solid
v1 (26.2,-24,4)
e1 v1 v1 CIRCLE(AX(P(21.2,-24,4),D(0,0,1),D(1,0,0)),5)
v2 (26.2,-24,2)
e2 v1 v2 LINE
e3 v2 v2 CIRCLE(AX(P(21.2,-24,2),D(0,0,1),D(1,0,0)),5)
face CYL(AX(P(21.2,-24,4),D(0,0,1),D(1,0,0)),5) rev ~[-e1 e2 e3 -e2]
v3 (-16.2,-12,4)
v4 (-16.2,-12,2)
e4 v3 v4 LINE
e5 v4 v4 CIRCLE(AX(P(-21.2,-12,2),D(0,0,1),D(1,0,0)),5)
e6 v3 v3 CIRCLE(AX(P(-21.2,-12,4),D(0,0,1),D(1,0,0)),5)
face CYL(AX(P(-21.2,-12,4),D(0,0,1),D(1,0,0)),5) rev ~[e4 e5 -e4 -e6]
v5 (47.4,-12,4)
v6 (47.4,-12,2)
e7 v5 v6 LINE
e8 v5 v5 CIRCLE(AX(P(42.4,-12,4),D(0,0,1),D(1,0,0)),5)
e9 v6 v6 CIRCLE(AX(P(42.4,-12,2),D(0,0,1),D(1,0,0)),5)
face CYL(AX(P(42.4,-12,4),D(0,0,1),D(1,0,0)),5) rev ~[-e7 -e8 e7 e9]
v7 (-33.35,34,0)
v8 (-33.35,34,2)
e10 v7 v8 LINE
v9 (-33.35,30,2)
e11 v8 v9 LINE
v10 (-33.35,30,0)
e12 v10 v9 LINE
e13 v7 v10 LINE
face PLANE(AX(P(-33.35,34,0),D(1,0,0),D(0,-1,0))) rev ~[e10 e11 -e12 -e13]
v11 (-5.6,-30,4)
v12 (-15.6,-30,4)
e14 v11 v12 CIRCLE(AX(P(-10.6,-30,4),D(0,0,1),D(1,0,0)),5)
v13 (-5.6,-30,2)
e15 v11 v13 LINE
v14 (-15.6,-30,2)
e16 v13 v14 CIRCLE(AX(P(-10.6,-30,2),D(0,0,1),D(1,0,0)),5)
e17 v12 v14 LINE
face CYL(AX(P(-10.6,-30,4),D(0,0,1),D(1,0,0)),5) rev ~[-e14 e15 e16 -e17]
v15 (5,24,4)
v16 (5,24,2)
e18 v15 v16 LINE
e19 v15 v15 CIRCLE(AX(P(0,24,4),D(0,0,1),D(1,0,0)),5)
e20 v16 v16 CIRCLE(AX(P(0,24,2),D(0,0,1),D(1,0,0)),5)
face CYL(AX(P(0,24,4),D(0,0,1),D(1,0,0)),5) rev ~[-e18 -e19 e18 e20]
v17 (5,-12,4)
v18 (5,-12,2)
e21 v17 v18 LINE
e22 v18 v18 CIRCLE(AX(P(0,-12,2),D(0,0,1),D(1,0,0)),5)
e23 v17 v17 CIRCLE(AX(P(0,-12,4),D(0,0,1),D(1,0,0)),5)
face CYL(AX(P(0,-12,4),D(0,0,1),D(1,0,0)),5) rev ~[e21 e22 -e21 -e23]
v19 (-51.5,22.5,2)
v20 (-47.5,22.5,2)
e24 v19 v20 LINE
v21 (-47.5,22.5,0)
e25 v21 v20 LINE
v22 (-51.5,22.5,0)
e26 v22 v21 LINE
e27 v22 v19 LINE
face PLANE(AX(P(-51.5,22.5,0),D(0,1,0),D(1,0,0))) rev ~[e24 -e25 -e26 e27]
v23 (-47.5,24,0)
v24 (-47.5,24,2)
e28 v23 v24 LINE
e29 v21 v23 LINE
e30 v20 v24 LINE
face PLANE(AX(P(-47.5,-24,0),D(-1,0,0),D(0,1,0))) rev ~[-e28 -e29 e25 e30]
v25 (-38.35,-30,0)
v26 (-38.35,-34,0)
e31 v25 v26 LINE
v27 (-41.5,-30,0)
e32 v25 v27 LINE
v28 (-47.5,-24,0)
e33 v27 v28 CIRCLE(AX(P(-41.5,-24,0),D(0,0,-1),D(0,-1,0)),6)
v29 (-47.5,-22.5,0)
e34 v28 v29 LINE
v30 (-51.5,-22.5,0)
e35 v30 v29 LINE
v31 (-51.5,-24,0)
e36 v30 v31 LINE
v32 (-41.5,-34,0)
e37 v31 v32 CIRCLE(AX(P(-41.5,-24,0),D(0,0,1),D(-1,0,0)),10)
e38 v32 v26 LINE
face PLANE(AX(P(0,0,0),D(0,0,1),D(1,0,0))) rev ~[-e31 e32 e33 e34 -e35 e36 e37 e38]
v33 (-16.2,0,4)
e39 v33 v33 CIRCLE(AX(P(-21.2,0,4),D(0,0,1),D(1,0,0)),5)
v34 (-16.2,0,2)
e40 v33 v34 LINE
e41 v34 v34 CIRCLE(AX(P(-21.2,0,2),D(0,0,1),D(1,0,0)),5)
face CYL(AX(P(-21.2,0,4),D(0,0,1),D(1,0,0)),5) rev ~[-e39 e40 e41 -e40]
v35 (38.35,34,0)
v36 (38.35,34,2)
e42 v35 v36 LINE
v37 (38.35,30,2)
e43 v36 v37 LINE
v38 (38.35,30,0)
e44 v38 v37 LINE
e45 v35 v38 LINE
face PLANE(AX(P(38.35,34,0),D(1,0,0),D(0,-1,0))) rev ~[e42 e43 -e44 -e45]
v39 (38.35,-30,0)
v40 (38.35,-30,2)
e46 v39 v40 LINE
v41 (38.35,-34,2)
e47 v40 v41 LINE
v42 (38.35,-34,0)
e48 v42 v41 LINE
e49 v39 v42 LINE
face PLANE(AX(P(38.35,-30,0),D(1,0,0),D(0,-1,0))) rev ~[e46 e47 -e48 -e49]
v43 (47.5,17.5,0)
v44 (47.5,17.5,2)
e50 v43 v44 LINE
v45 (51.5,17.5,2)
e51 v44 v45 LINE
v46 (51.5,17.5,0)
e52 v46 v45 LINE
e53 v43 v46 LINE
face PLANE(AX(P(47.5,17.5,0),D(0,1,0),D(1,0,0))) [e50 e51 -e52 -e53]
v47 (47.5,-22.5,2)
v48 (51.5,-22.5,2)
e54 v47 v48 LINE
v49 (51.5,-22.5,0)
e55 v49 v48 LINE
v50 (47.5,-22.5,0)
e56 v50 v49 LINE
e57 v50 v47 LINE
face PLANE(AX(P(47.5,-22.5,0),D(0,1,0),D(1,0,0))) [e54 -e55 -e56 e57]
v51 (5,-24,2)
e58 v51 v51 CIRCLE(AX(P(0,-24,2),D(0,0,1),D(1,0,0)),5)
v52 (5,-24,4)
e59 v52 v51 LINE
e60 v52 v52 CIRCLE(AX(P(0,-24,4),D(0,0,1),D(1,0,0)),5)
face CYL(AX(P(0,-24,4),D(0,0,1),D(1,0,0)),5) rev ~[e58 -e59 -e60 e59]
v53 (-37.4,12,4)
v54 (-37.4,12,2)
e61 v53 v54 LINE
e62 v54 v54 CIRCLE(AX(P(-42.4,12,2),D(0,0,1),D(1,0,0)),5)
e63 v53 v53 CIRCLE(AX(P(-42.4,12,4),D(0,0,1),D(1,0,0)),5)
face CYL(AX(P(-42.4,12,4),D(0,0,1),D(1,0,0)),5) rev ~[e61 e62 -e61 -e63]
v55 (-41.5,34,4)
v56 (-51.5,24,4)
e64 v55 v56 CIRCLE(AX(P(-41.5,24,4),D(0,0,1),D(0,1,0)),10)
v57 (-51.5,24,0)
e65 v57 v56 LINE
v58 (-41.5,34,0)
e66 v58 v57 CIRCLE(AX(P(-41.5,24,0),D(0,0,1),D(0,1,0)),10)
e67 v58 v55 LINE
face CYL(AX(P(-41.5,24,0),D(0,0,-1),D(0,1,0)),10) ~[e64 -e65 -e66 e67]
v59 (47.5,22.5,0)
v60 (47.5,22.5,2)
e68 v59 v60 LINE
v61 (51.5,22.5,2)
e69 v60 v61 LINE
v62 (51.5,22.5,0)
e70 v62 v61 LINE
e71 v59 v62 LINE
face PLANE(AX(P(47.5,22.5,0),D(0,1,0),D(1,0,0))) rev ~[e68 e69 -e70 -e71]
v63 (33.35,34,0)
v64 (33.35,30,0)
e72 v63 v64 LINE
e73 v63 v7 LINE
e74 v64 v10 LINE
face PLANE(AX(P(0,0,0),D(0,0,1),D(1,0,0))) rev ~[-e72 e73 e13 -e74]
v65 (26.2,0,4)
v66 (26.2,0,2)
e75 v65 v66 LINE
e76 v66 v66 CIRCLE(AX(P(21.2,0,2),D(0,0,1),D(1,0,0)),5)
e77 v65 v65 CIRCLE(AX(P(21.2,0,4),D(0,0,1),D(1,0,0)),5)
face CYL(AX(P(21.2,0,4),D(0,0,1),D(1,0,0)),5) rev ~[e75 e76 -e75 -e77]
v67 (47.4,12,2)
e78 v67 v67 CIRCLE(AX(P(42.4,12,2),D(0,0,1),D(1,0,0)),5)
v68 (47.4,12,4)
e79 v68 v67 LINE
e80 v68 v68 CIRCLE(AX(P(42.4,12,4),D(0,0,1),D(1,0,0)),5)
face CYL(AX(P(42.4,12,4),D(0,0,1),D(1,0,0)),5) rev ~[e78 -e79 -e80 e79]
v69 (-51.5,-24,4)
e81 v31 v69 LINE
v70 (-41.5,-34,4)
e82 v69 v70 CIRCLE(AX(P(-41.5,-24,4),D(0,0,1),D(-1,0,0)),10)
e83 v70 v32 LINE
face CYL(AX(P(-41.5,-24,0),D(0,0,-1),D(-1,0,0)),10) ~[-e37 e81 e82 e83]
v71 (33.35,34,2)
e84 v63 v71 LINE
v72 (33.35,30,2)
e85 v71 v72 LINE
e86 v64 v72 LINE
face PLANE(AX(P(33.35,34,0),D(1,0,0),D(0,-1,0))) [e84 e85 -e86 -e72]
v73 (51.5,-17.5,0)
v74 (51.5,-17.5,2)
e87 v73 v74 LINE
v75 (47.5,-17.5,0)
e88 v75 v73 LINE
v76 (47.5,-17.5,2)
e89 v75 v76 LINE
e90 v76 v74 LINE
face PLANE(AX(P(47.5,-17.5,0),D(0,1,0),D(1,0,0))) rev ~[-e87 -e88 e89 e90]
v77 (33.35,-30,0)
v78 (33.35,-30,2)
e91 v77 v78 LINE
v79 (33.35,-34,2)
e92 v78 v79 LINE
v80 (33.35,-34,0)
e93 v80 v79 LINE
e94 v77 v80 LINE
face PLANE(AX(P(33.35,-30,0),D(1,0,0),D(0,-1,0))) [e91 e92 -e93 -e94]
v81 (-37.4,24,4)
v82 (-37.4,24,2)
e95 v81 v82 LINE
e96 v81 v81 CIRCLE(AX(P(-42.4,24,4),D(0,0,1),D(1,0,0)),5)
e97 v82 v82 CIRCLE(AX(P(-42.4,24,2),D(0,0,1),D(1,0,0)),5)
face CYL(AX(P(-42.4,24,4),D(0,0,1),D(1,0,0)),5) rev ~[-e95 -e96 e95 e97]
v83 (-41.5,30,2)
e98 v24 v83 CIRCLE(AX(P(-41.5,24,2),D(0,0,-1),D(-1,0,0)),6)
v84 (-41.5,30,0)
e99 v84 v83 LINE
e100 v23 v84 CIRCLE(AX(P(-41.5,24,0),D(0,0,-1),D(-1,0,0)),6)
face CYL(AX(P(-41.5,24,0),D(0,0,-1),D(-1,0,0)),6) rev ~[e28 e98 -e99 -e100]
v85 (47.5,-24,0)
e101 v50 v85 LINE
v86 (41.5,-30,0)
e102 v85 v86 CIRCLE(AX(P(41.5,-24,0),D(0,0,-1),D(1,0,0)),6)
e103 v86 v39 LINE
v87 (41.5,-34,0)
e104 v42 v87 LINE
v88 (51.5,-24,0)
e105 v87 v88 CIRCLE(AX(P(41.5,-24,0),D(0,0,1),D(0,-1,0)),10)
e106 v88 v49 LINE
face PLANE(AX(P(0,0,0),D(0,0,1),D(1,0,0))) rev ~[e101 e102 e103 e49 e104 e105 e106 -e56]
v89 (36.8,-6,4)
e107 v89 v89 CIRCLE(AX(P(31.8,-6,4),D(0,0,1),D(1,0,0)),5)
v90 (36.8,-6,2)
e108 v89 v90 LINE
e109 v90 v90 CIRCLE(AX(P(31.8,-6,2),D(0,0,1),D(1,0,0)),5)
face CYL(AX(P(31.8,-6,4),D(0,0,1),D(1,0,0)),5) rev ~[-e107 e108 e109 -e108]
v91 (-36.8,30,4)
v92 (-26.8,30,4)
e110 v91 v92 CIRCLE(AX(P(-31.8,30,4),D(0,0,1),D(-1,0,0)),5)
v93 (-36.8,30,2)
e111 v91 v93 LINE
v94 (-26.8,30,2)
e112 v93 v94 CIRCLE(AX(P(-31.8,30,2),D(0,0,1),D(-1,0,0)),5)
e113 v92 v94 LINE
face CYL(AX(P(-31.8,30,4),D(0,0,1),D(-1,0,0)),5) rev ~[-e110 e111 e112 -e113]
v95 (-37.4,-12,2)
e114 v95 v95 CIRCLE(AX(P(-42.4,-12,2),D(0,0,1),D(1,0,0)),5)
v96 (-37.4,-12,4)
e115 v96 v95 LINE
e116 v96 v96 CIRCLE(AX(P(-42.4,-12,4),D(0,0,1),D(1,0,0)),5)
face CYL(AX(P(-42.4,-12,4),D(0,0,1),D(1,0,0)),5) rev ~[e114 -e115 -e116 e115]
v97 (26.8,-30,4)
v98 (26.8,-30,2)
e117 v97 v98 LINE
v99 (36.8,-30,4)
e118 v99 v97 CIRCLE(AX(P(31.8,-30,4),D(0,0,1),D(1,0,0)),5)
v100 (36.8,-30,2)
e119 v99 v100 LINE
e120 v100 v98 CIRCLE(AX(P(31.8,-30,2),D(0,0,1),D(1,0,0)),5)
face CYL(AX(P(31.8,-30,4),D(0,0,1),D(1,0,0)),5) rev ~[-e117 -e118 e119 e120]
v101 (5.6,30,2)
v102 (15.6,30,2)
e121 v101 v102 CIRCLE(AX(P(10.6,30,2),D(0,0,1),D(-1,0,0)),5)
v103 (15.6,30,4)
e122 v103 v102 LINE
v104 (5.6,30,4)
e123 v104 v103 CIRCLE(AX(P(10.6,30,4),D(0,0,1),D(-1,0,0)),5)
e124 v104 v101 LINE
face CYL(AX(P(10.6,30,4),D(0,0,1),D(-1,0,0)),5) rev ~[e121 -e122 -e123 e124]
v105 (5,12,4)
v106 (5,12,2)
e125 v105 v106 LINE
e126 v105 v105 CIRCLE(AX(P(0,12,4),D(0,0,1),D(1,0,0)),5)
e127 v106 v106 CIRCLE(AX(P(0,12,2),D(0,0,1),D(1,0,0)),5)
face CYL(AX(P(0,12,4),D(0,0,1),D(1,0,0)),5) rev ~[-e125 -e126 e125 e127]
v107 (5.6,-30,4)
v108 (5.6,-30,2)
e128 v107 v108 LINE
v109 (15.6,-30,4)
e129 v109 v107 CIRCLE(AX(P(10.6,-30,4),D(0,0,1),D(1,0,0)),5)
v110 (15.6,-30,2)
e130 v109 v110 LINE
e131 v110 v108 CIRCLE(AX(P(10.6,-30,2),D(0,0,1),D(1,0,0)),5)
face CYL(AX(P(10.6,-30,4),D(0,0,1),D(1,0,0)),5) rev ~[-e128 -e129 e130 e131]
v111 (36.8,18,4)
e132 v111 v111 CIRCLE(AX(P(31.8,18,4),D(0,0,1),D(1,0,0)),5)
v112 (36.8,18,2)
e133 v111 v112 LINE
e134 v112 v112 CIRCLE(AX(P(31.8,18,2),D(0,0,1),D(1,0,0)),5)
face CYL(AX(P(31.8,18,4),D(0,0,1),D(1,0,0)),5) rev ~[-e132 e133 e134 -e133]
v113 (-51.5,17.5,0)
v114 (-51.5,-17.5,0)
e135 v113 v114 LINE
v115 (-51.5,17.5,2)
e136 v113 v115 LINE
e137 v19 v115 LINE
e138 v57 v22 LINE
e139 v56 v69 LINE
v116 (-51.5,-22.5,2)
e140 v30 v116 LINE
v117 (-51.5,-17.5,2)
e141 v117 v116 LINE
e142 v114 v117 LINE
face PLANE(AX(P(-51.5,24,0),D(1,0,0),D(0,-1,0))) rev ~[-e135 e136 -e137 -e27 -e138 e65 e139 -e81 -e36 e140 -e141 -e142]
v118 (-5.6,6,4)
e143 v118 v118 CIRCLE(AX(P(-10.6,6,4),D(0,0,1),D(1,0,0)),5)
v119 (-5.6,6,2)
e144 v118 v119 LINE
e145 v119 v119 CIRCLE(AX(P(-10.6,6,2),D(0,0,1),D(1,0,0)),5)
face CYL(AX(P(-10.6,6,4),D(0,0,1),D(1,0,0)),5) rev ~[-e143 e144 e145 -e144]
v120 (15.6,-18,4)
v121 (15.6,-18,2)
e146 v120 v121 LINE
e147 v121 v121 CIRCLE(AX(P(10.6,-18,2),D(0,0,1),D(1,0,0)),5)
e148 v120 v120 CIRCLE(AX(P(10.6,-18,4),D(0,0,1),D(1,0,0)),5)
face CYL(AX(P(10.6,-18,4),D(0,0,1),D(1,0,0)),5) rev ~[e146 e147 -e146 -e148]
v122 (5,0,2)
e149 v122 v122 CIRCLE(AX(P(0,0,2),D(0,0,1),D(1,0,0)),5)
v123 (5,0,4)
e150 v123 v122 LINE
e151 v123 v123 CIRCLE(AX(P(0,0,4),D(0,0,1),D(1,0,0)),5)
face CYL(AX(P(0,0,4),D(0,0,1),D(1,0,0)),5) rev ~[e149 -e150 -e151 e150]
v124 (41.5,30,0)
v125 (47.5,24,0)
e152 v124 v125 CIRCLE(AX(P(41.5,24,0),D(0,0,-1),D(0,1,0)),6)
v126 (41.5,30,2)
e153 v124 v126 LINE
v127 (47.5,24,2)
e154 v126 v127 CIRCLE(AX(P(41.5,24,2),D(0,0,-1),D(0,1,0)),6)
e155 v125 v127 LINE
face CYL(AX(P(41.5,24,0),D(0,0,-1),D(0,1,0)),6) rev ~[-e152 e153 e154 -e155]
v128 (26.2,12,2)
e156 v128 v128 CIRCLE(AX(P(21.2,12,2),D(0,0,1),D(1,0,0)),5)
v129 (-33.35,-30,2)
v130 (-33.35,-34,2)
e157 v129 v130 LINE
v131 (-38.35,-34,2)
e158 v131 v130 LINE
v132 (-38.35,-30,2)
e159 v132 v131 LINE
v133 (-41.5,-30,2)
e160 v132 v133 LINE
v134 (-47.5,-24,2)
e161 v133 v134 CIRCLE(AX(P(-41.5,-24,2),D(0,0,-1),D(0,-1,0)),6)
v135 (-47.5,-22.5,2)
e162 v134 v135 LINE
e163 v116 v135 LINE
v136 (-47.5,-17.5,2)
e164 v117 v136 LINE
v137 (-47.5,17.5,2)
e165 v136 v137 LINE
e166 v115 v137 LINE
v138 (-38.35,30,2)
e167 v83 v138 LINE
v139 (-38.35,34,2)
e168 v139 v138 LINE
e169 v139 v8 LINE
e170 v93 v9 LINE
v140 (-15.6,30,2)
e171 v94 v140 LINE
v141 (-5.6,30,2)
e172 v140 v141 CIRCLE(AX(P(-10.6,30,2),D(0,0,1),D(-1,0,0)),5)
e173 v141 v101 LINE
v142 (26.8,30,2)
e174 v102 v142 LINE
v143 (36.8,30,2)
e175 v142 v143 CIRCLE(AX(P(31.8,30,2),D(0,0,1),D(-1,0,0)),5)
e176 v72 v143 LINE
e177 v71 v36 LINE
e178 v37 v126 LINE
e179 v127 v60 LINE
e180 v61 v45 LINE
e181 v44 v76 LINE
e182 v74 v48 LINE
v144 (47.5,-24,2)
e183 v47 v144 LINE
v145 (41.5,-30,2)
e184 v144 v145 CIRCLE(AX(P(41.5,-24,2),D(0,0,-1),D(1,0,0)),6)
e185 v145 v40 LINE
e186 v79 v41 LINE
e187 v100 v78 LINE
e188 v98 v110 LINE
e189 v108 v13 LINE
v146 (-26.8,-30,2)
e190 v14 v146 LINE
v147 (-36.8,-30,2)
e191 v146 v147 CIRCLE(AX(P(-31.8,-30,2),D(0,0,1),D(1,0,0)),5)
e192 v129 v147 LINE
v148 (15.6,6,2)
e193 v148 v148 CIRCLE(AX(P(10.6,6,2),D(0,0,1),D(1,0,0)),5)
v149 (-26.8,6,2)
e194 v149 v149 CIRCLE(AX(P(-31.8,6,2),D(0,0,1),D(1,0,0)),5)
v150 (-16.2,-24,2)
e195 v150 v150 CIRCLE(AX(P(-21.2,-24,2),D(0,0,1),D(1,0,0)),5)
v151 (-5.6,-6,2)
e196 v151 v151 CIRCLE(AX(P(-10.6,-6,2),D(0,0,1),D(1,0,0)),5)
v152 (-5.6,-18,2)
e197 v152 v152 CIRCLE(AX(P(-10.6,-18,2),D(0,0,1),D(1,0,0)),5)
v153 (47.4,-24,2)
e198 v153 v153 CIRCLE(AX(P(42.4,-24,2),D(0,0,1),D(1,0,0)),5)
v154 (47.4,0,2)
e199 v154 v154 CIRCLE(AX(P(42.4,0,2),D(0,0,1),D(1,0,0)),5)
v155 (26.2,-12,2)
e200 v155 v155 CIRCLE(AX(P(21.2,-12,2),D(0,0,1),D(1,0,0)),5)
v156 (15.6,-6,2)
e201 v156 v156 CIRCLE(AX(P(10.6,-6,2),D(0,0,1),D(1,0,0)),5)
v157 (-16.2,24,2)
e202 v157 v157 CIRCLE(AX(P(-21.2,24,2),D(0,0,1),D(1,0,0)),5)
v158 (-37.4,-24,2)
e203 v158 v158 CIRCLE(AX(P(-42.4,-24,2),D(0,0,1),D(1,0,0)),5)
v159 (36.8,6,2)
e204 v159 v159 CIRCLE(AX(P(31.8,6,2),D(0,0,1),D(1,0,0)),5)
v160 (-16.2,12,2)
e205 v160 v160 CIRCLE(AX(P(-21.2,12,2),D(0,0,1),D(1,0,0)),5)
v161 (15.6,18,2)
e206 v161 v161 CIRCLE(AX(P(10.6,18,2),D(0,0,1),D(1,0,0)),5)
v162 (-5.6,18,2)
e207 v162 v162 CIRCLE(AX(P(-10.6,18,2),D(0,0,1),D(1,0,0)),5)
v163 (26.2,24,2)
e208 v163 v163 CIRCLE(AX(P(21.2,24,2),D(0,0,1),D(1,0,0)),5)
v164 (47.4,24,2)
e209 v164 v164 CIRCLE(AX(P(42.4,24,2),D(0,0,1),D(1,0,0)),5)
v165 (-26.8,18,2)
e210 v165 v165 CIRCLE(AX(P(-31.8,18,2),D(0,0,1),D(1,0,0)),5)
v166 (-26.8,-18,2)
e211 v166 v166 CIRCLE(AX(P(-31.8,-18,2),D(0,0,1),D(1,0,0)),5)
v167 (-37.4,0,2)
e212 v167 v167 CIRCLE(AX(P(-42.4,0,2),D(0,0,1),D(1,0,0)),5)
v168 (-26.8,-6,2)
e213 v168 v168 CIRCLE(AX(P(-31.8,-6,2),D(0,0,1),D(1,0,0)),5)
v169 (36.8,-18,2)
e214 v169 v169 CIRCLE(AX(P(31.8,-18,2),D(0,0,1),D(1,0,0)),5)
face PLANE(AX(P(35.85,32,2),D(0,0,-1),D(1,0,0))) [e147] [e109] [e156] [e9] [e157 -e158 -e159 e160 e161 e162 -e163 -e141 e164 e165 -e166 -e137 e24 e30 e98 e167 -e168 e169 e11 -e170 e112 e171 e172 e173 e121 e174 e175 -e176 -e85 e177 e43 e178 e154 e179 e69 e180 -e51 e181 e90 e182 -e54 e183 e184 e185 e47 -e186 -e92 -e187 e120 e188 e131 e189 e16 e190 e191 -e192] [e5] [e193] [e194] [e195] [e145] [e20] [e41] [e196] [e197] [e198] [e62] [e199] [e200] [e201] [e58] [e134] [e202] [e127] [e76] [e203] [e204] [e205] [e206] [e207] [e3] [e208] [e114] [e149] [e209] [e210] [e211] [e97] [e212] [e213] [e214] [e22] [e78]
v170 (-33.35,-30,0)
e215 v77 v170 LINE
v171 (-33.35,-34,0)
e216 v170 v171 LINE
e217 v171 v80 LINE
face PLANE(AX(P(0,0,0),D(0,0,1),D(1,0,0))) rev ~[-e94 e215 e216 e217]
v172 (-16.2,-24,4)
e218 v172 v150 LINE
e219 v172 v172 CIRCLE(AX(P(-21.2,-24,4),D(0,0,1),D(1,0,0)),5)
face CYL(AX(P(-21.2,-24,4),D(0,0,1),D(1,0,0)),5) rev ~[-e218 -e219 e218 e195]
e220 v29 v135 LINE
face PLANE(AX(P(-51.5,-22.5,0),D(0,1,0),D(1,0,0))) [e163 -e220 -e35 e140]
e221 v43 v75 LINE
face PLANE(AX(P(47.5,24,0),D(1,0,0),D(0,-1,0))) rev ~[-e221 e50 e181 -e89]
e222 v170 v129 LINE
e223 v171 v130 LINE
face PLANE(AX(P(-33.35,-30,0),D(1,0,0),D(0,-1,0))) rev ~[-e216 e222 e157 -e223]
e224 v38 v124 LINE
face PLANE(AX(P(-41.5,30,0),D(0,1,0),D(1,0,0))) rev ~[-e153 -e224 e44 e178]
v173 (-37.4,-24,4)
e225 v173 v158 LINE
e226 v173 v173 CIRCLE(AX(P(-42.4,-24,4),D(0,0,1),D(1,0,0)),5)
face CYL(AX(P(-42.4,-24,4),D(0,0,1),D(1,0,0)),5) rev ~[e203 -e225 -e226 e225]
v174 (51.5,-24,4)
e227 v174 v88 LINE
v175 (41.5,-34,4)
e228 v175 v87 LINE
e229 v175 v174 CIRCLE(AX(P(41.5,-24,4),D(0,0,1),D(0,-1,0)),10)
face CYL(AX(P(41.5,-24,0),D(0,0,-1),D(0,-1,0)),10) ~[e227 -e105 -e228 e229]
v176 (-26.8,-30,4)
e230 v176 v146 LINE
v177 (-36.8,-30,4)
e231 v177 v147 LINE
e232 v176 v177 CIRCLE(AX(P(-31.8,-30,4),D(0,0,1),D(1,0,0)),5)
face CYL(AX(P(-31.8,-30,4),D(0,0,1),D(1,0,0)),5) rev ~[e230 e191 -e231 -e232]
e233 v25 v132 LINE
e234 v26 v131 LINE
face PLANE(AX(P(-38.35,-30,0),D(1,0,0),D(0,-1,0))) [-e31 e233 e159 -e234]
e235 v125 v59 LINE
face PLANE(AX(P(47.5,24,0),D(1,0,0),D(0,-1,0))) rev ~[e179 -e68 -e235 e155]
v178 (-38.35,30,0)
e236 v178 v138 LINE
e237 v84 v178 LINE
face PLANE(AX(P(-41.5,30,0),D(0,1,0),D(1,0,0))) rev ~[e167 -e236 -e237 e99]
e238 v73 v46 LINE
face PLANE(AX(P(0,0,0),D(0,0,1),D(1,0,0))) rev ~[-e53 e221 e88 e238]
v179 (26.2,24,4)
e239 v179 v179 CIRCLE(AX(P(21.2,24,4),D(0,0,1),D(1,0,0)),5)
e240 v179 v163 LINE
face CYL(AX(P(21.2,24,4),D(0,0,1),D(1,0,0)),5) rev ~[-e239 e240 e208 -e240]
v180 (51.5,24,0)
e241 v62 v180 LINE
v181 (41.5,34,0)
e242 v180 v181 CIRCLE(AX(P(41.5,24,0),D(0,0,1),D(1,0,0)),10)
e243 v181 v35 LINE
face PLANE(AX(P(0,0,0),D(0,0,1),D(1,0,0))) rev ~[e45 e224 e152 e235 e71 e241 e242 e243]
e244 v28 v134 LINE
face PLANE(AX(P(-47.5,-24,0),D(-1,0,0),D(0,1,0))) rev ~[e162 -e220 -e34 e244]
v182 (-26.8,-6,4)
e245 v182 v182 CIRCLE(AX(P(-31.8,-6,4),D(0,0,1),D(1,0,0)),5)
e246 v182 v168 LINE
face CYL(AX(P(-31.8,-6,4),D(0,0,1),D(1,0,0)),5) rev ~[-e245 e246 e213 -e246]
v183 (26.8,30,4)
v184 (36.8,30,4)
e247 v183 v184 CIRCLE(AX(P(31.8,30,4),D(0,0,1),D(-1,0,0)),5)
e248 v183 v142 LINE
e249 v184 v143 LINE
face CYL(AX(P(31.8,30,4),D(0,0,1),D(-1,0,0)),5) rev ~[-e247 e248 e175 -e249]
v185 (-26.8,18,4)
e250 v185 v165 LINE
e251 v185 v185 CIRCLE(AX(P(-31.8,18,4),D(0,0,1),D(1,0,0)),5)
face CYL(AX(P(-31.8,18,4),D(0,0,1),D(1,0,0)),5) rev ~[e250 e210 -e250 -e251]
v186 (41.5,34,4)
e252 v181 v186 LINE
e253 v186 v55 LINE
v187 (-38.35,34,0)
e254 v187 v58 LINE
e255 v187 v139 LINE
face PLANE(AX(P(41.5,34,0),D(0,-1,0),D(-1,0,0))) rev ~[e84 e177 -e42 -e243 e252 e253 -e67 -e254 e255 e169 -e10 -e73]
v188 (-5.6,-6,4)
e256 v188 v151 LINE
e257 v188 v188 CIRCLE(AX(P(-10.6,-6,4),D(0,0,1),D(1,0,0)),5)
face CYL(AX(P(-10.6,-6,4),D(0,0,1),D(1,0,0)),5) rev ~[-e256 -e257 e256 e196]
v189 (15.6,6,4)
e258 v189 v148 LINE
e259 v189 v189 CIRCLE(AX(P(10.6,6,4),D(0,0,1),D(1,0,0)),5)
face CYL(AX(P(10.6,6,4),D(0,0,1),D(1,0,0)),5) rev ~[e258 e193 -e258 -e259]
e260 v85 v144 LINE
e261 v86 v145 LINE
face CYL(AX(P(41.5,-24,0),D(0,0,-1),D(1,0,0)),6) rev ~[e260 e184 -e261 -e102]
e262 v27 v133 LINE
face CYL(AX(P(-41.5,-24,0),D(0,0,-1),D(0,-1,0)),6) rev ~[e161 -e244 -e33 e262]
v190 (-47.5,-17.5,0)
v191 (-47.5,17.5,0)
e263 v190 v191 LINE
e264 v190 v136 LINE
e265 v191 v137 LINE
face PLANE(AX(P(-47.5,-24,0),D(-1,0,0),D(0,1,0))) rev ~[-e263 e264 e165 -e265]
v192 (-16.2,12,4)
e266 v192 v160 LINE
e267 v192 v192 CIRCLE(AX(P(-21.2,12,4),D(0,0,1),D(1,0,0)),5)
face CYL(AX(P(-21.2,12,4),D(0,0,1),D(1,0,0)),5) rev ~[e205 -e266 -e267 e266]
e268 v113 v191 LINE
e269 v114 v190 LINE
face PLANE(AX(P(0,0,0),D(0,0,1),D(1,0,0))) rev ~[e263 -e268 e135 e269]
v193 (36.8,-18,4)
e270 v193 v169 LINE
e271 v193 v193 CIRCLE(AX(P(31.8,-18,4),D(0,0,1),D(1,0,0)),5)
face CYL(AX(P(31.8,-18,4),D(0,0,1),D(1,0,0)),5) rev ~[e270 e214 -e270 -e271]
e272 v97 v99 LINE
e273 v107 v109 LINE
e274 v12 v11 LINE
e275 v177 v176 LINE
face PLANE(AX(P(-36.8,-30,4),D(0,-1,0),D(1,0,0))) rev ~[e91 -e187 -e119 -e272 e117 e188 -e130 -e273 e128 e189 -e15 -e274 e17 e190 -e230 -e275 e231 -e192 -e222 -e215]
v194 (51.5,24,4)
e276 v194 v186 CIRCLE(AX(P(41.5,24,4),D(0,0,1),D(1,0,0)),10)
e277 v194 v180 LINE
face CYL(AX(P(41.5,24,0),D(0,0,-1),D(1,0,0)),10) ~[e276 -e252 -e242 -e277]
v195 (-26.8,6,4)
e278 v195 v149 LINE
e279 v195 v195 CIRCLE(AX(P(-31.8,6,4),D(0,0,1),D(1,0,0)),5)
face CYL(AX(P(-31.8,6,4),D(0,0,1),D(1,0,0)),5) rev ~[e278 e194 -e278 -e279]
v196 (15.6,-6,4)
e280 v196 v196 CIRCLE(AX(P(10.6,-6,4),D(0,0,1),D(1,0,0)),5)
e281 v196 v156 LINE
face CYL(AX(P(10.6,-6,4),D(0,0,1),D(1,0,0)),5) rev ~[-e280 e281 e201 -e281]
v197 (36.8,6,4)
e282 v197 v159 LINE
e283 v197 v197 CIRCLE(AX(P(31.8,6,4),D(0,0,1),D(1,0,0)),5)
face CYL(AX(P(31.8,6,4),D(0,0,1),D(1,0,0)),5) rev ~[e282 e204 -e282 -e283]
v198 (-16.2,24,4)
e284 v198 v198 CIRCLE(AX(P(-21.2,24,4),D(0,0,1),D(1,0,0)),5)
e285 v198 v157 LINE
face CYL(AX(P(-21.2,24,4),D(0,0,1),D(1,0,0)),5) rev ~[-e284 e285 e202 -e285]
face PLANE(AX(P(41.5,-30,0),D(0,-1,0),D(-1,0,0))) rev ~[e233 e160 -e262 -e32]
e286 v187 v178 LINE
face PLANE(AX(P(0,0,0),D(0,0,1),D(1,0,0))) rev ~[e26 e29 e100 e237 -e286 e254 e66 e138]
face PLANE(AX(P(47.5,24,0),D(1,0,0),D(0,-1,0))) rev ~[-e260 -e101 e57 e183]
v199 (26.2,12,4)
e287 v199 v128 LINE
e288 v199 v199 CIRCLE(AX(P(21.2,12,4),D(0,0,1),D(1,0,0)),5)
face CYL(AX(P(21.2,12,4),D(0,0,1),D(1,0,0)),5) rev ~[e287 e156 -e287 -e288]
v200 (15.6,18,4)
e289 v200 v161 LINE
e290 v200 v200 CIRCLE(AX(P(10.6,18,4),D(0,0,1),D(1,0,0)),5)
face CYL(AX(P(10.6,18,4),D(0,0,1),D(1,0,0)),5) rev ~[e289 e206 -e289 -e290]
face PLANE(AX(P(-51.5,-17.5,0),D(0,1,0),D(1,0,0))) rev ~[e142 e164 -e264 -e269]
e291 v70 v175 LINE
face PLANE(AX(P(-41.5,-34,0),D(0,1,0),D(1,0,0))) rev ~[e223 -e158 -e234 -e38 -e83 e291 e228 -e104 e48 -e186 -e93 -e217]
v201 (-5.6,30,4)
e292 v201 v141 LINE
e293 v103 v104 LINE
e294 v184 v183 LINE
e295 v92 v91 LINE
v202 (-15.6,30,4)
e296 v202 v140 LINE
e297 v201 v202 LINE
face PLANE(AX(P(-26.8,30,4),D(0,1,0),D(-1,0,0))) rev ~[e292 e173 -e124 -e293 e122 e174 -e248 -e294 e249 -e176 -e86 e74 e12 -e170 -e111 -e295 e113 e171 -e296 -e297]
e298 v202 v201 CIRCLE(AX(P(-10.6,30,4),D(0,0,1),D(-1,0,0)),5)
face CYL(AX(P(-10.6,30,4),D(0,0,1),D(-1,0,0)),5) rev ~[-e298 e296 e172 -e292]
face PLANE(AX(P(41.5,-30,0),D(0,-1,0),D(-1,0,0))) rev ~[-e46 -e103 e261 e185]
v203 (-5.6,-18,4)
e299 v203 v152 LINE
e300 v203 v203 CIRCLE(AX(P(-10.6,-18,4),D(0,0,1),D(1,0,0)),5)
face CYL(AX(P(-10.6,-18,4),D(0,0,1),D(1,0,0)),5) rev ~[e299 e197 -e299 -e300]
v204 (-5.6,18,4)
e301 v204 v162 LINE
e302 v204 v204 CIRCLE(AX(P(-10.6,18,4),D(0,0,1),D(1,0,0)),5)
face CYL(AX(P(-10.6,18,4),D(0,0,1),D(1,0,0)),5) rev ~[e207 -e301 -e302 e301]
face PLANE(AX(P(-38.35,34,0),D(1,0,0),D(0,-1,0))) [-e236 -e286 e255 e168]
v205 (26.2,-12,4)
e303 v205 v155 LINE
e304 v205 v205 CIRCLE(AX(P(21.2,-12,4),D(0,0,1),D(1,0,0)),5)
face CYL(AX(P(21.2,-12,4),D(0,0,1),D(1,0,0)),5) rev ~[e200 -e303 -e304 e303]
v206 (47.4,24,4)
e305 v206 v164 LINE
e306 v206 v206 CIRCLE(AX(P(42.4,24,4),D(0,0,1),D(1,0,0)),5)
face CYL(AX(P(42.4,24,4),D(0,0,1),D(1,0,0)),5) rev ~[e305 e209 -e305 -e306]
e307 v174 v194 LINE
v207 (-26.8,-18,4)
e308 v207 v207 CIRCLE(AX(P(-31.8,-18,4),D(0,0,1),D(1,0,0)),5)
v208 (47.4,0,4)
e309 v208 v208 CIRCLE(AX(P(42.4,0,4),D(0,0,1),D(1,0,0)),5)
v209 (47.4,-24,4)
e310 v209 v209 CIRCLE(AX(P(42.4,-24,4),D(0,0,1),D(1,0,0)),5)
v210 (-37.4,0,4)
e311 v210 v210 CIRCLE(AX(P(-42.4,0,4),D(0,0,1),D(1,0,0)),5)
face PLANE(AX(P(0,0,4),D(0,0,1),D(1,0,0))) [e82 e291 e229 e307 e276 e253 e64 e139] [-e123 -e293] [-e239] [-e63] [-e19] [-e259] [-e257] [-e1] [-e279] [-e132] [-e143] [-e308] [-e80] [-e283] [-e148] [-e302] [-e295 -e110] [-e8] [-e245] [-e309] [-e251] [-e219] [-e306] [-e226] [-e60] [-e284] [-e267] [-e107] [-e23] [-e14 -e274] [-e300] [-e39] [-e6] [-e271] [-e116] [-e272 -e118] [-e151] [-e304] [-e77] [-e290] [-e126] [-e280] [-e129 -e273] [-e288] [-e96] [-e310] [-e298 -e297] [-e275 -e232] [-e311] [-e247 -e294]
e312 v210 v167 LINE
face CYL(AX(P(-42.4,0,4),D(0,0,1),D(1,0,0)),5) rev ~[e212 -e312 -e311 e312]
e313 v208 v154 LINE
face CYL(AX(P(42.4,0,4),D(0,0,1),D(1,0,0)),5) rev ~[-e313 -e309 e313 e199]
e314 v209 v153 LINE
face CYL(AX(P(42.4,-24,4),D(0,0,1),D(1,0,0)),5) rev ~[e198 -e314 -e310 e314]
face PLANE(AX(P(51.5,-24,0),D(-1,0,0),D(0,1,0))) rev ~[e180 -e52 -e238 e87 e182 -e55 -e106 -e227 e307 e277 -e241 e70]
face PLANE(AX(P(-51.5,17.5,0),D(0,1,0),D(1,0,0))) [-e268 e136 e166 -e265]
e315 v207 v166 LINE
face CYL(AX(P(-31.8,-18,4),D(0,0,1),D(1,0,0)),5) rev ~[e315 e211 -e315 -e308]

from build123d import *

# Parameters (mm, degrees)
F1_DEPTH  = 4
F3_DEPTH  = 2
F5_DEPTH  = 2
F6_W      = 5
F6_H      = 4
F6_W_2    = 4
F6_H_2    = 5
F7_DEPTH  = 2
F9_R      = 5
F10_DEPTH = 4.001


with BuildPart() as f1:
    # F0 (on Top) → F1 (new body)
    with BuildSketch(Plane.XY):
        with BuildLine():
            ThreePointArc((51.5, 24), (48.5710678119, 31.0710678119), (41.5, 34))
            Line((41.5, 34), (-41.5, 34))
            ThreePointArc((-41.5, 34), (-48.5710678119, 31.0710678119), (-51.5, 24))
            Line((-51.5, 24), (-51.5, -24))
            ThreePointArc((-51.5, -24), (-48.5710678119, -31.0710678119), (-41.5, -34))
            Line((-41.5, -34), (41.5, -34))
            ThreePointArc((41.5, -34), (48.5710678119, -31.0710678119), (51.5, -24))
            Line((51.5, -24), (51.5, 24))
        make_face()
        with BuildLine():
            ThreePointArc((41.5, 30), (45.7426406871, 28.2426406871), (47.5, 24))
            Line((47.5, 24), (47.5, -24))
            ThreePointArc((47.5, -24), (45.7426406871, -28.2426406871), (41.5, -30))
            Line((41.5, -30), (-41.5, -30))
            ThreePointArc((-41.5, -30), (-45.7426406871, -28.2426406871), (-47.5, -24))
            Line((-47.5, -24), (-47.5, 24))
            ThreePointArc((-47.5, 24), (-45.7426406871, 28.2426406871), (-41.5, 30))
            Line((-41.5, 30), (41.5, 30))
        make_face(mode=Mode.SUBTRACT)
    extrude(amount=F1_DEPTH)

    # F2 (on face) → F5 (join)
    with BuildSketch(Plane.XY.offset(4)):
        with BuildLine():
            ThreePointArc((51.5, 24), (48.5710678119, 31.0710678119), (41.5, 34))
            Line((41.5, 34), (-41.5, 34))
            ThreePointArc((-41.5, 34), (-48.5710678119, 31.0710678119), (-51.5, 24))
            Line((-51.5, 24), (-51.5, -24))
            ThreePointArc((-51.5, -24), (-48.5710678119, -31.0710678119), (-41.5, -34))
            Line((-41.5, -34), (41.5, -34))
            ThreePointArc((41.5, -34), (48.5710678119, -31.0710678119), (51.5, -24))
            Line((51.5, -24), (51.5, 24))
        make_face()
        with BuildLine():
            Line((-41.5, 30), (41.5, 30))
            ThreePointArc((41.5, 30), (45.7426406871, 28.2426406871), (47.5, 24))
            Line((47.5, 24), (47.5, -24))
            ThreePointArc((47.5, -24), (45.7426406871, -28.2426406871), (41.5, -30))
            Line((41.5, -30), (-41.5, -30))
            ThreePointArc((-41.5, -30), (-45.7426406871, -28.2426406871), (-47.5, -24))
            Line((-47.5, -24), (-47.5, 24))
            ThreePointArc((-47.5, 24), (-45.7426406871, 28.2426406871), (-41.5, 30))
        make_face(mode=Mode.SUBTRACT)
        with BuildLine():
            ThreePointArc((47.5, 24), (45.7426406871, 28.2426406871), (41.5, 30))
            Line((41.5, 30), (-41.5, 30))
            ThreePointArc((-41.5, 30), (-45.7426406871, 28.2426406871), (-47.5, 24))
            Line((-47.5, 24), (-47.5, -24))
            ThreePointArc((-47.5, -24), (-45.7426406871, -28.2426406871), (-41.5, -30))
            Line((-41.5, -30), (41.5, -30))
            ThreePointArc((41.5, -30), (45.7426406871, -28.2426406871), (47.5, -24))
            Line((47.5, -24), (47.5, 24))
        make_face()
    extrude(amount=-F5_DEPTH)

    # F6 (on face) → F7 (cut)
    with BuildSketch(Plane(origin=(0, 0, 0), x_dir=(1, 0, 0), z_dir=(0, 0, -1))):
        with Locations((-35.85, 32)):
            Rectangle(F6_W, F6_H)
        with Locations((35.85, 32)):
            Rectangle(F6_W, F6_H)
        with Locations((-35.85, -32)):
            Rectangle(F6_W, F6_H)
        with Locations((35.85, -32)):
            Rectangle(F6_W, F6_H)
        with Locations((-49.5, 20)):
            Rectangle(F6_W_2, F6_H_2)
        with Locations((-49.5, -20)):
            Rectangle(F6_W_2, F6_H_2)
        with Locations((49.5, -20)):
            Rectangle(F6_W_2, F6_H_2)
        with Locations((49.5, 20)):
            Rectangle(F6_W_2, F6_H_2)
    extrude(amount=-F7_DEPTH, mode=Mode.SUBTRACT)

    # F9 (on face) → F10 (cut, through all)
    with BuildSketch(Plane.XY.offset(4)):
        with Locations((-42.4, 24)):
            Circle(F9_R)
        with BuildLine():
            Line((-26.8, 30), (-36.8, 30))
            ThreePointArc((-36.8, 30), (-31.8, 25), (-26.8, 30))
        make_face()
        with Locations((-31.8, 18)):
            Circle(F9_R)
        with Locations((-42.4, 12)):
            Circle(F9_R)
        with Locations((-42.4, 0)):
            Circle(F9_R)
        with Locations((-31.8, 6)):
            Circle(F9_R)
        with Locations((-31.8, -6)):
            Circle(F9_R)
        with Locations((-42.4, -12)):
            Circle(F9_R)
        with Locations((-42.4, -24)):
            Circle(F9_R)
        with Locations((-31.8, -18)):
            Circle(F9_R)
        with BuildLine():
            ThreePointArc((-26.8, -30), (-31.8, -25), (-36.8, -30))
            Line((-36.8, -30), (-26.8, -30))
        make_face()
        with Locations((-21.2, -24)):
            Circle(F9_R)
        with Locations((-21.2, -12)):
            Circle(F9_R)
        with Locations((-21.2, 0)):
            Circle(F9_R)
        with Locations((-21.2, 12)):
            Circle(F9_R)
        with Locations((-21.2, 24)):
            Circle(F9_R)
        with BuildLine():
            ThreePointArc((-15.6, 30), (-10.6, 25), (-5.6, 30))
            Line((-5.6, 30), (-15.6, 30))
        make_face()
        with Locations((-10.6, 18)):
            Circle(F9_R)
        with Locations((-10.6, 6)):
            Circle(F9_R)
        with Locations((-10.6, -6)):
            Circle(F9_R)
        with Locations((-10.6, -18)):
            Circle(F9_R)
        with BuildLine():
            Line((-15.6, -30), (-5.6, -30))
            ThreePointArc((-5.6, -30), (-10.6, -25), (-15.6, -30))
        make_face()
        with Locations((0, -24)):
            Circle(F9_R)
        with Locations((0, -12)):
            Circle(F9_R)
        Circle(F9_R)
        with Locations((0, 12)):
            Circle(F9_R)
        with Locations((0, 24)):
            Circle(F9_R)
        with BuildLine():
            Line((15.6, 30), (5.6, 30))
            ThreePointArc((5.6, 30), (10.6, 25), (15.6, 30))
        make_face()
        with Locations((10.6, 18)):
            Circle(F9_R)
        with Locations((10.6, 6)):
            Circle(F9_R)
        with Locations((10.6, -6)):
            Circle(F9_R)
        with Locations((10.6, -18)):
            Circle(F9_R)
        with BuildLine():
            ThreePointArc((15.6, -30), (10.6, -25), (5.6, -30))
            Line((5.6, -30), (15.6, -30))
        make_face()
        with Locations((21.2, -24)):
            Circle(F9_R)
        with Locations((21.2, -12)):
            Circle(F9_R)
        with Locations((21.2, 0)):
            Circle(F9_R)
        with Locations((21.2, 12)):
            Circle(F9_R)
        with Locations((21.2, 24)):
            Circle(F9_R)
        with BuildLine():
            ThreePointArc((26.8, 30), (31.8, 25), (36.8, 30))
            Line((36.8, 30), (26.8, 30))
        make_face()
        with Locations((31.8, 18)):
            Circle(F9_R)
        with Locations((31.8, 6)):
            Circle(F9_R)
        with Locations((31.8, -6)):
            Circle(F9_R)
        with Locations((31.8, -18)):
            Circle(F9_R)
        with BuildLine():
            Line((26.8, -30), (36.8, -30))
            ThreePointArc((36.8, -30), (31.8, -25), (26.8, -30))
        make_face()
        with Locations((42.4, -24)):
            Circle(F9_R)
        with Locations((42.4, -12)):
            Circle(F9_R)
        with Locations((42.4, 0)):
            Circle(F9_R)
        with Locations((42.4, 12)):
            Circle(F9_R)
        with Locations((42.4, 24)):
            Circle(F9_R)
    extrude(amount=-F10_DEPTH, mode=Mode.SUBTRACT)


with BuildPart() as f3:
    # F2 (on face) → F3 (new body)
    with BuildSketch(Plane.XY.offset(4)):
        with BuildLine():
            ThreePointArc((51.5, 24), (48.5710678119, 31.0710678119), (41.5, 34))
            Line((41.5, 34), (-41.5, 34))
            ThreePointArc((-41.5, 34), (-48.5710678119, 31.0710678119), (-51.5, 24))
            Line((-51.5, 24), (-51.5, -24))
            ThreePointArc((-51.5, -24), (-48.5710678119, -31.0710678119), (-41.5, -34))
            Line((-41.5, -34), (41.5, -34))
            ThreePointArc((41.5, -34), (48.5710678119, -31.0710678119), (51.5, -24))
            Line((51.5, -24), (51.5, 24))
        make_face()
        with BuildLine():
            Line((-41.5, 30), (41.5, 30))
            ThreePointArc((41.5, 30), (45.7426406871, 28.2426406871), (47.5, 24))
            Line((47.5, 24), (47.5, -24))
            ThreePointArc((47.5, -24), (45.7426406871, -28.2426406871), (41.5, -30))
            Line((41.5, -30), (-41.5, -30))
            ThreePointArc((-41.5, -30), (-45.7426406871, -28.2426406871), (-47.5, -24))
            Line((-47.5, -24), (-47.5, 24))
            ThreePointArc((-47.5, 24), (-45.7426406871, 28.2426406871), (-41.5, 30))
        make_face(mode=Mode.SUBTRACT)
    extrude(amount=-F3_DEPTH)


solid = f1.part
